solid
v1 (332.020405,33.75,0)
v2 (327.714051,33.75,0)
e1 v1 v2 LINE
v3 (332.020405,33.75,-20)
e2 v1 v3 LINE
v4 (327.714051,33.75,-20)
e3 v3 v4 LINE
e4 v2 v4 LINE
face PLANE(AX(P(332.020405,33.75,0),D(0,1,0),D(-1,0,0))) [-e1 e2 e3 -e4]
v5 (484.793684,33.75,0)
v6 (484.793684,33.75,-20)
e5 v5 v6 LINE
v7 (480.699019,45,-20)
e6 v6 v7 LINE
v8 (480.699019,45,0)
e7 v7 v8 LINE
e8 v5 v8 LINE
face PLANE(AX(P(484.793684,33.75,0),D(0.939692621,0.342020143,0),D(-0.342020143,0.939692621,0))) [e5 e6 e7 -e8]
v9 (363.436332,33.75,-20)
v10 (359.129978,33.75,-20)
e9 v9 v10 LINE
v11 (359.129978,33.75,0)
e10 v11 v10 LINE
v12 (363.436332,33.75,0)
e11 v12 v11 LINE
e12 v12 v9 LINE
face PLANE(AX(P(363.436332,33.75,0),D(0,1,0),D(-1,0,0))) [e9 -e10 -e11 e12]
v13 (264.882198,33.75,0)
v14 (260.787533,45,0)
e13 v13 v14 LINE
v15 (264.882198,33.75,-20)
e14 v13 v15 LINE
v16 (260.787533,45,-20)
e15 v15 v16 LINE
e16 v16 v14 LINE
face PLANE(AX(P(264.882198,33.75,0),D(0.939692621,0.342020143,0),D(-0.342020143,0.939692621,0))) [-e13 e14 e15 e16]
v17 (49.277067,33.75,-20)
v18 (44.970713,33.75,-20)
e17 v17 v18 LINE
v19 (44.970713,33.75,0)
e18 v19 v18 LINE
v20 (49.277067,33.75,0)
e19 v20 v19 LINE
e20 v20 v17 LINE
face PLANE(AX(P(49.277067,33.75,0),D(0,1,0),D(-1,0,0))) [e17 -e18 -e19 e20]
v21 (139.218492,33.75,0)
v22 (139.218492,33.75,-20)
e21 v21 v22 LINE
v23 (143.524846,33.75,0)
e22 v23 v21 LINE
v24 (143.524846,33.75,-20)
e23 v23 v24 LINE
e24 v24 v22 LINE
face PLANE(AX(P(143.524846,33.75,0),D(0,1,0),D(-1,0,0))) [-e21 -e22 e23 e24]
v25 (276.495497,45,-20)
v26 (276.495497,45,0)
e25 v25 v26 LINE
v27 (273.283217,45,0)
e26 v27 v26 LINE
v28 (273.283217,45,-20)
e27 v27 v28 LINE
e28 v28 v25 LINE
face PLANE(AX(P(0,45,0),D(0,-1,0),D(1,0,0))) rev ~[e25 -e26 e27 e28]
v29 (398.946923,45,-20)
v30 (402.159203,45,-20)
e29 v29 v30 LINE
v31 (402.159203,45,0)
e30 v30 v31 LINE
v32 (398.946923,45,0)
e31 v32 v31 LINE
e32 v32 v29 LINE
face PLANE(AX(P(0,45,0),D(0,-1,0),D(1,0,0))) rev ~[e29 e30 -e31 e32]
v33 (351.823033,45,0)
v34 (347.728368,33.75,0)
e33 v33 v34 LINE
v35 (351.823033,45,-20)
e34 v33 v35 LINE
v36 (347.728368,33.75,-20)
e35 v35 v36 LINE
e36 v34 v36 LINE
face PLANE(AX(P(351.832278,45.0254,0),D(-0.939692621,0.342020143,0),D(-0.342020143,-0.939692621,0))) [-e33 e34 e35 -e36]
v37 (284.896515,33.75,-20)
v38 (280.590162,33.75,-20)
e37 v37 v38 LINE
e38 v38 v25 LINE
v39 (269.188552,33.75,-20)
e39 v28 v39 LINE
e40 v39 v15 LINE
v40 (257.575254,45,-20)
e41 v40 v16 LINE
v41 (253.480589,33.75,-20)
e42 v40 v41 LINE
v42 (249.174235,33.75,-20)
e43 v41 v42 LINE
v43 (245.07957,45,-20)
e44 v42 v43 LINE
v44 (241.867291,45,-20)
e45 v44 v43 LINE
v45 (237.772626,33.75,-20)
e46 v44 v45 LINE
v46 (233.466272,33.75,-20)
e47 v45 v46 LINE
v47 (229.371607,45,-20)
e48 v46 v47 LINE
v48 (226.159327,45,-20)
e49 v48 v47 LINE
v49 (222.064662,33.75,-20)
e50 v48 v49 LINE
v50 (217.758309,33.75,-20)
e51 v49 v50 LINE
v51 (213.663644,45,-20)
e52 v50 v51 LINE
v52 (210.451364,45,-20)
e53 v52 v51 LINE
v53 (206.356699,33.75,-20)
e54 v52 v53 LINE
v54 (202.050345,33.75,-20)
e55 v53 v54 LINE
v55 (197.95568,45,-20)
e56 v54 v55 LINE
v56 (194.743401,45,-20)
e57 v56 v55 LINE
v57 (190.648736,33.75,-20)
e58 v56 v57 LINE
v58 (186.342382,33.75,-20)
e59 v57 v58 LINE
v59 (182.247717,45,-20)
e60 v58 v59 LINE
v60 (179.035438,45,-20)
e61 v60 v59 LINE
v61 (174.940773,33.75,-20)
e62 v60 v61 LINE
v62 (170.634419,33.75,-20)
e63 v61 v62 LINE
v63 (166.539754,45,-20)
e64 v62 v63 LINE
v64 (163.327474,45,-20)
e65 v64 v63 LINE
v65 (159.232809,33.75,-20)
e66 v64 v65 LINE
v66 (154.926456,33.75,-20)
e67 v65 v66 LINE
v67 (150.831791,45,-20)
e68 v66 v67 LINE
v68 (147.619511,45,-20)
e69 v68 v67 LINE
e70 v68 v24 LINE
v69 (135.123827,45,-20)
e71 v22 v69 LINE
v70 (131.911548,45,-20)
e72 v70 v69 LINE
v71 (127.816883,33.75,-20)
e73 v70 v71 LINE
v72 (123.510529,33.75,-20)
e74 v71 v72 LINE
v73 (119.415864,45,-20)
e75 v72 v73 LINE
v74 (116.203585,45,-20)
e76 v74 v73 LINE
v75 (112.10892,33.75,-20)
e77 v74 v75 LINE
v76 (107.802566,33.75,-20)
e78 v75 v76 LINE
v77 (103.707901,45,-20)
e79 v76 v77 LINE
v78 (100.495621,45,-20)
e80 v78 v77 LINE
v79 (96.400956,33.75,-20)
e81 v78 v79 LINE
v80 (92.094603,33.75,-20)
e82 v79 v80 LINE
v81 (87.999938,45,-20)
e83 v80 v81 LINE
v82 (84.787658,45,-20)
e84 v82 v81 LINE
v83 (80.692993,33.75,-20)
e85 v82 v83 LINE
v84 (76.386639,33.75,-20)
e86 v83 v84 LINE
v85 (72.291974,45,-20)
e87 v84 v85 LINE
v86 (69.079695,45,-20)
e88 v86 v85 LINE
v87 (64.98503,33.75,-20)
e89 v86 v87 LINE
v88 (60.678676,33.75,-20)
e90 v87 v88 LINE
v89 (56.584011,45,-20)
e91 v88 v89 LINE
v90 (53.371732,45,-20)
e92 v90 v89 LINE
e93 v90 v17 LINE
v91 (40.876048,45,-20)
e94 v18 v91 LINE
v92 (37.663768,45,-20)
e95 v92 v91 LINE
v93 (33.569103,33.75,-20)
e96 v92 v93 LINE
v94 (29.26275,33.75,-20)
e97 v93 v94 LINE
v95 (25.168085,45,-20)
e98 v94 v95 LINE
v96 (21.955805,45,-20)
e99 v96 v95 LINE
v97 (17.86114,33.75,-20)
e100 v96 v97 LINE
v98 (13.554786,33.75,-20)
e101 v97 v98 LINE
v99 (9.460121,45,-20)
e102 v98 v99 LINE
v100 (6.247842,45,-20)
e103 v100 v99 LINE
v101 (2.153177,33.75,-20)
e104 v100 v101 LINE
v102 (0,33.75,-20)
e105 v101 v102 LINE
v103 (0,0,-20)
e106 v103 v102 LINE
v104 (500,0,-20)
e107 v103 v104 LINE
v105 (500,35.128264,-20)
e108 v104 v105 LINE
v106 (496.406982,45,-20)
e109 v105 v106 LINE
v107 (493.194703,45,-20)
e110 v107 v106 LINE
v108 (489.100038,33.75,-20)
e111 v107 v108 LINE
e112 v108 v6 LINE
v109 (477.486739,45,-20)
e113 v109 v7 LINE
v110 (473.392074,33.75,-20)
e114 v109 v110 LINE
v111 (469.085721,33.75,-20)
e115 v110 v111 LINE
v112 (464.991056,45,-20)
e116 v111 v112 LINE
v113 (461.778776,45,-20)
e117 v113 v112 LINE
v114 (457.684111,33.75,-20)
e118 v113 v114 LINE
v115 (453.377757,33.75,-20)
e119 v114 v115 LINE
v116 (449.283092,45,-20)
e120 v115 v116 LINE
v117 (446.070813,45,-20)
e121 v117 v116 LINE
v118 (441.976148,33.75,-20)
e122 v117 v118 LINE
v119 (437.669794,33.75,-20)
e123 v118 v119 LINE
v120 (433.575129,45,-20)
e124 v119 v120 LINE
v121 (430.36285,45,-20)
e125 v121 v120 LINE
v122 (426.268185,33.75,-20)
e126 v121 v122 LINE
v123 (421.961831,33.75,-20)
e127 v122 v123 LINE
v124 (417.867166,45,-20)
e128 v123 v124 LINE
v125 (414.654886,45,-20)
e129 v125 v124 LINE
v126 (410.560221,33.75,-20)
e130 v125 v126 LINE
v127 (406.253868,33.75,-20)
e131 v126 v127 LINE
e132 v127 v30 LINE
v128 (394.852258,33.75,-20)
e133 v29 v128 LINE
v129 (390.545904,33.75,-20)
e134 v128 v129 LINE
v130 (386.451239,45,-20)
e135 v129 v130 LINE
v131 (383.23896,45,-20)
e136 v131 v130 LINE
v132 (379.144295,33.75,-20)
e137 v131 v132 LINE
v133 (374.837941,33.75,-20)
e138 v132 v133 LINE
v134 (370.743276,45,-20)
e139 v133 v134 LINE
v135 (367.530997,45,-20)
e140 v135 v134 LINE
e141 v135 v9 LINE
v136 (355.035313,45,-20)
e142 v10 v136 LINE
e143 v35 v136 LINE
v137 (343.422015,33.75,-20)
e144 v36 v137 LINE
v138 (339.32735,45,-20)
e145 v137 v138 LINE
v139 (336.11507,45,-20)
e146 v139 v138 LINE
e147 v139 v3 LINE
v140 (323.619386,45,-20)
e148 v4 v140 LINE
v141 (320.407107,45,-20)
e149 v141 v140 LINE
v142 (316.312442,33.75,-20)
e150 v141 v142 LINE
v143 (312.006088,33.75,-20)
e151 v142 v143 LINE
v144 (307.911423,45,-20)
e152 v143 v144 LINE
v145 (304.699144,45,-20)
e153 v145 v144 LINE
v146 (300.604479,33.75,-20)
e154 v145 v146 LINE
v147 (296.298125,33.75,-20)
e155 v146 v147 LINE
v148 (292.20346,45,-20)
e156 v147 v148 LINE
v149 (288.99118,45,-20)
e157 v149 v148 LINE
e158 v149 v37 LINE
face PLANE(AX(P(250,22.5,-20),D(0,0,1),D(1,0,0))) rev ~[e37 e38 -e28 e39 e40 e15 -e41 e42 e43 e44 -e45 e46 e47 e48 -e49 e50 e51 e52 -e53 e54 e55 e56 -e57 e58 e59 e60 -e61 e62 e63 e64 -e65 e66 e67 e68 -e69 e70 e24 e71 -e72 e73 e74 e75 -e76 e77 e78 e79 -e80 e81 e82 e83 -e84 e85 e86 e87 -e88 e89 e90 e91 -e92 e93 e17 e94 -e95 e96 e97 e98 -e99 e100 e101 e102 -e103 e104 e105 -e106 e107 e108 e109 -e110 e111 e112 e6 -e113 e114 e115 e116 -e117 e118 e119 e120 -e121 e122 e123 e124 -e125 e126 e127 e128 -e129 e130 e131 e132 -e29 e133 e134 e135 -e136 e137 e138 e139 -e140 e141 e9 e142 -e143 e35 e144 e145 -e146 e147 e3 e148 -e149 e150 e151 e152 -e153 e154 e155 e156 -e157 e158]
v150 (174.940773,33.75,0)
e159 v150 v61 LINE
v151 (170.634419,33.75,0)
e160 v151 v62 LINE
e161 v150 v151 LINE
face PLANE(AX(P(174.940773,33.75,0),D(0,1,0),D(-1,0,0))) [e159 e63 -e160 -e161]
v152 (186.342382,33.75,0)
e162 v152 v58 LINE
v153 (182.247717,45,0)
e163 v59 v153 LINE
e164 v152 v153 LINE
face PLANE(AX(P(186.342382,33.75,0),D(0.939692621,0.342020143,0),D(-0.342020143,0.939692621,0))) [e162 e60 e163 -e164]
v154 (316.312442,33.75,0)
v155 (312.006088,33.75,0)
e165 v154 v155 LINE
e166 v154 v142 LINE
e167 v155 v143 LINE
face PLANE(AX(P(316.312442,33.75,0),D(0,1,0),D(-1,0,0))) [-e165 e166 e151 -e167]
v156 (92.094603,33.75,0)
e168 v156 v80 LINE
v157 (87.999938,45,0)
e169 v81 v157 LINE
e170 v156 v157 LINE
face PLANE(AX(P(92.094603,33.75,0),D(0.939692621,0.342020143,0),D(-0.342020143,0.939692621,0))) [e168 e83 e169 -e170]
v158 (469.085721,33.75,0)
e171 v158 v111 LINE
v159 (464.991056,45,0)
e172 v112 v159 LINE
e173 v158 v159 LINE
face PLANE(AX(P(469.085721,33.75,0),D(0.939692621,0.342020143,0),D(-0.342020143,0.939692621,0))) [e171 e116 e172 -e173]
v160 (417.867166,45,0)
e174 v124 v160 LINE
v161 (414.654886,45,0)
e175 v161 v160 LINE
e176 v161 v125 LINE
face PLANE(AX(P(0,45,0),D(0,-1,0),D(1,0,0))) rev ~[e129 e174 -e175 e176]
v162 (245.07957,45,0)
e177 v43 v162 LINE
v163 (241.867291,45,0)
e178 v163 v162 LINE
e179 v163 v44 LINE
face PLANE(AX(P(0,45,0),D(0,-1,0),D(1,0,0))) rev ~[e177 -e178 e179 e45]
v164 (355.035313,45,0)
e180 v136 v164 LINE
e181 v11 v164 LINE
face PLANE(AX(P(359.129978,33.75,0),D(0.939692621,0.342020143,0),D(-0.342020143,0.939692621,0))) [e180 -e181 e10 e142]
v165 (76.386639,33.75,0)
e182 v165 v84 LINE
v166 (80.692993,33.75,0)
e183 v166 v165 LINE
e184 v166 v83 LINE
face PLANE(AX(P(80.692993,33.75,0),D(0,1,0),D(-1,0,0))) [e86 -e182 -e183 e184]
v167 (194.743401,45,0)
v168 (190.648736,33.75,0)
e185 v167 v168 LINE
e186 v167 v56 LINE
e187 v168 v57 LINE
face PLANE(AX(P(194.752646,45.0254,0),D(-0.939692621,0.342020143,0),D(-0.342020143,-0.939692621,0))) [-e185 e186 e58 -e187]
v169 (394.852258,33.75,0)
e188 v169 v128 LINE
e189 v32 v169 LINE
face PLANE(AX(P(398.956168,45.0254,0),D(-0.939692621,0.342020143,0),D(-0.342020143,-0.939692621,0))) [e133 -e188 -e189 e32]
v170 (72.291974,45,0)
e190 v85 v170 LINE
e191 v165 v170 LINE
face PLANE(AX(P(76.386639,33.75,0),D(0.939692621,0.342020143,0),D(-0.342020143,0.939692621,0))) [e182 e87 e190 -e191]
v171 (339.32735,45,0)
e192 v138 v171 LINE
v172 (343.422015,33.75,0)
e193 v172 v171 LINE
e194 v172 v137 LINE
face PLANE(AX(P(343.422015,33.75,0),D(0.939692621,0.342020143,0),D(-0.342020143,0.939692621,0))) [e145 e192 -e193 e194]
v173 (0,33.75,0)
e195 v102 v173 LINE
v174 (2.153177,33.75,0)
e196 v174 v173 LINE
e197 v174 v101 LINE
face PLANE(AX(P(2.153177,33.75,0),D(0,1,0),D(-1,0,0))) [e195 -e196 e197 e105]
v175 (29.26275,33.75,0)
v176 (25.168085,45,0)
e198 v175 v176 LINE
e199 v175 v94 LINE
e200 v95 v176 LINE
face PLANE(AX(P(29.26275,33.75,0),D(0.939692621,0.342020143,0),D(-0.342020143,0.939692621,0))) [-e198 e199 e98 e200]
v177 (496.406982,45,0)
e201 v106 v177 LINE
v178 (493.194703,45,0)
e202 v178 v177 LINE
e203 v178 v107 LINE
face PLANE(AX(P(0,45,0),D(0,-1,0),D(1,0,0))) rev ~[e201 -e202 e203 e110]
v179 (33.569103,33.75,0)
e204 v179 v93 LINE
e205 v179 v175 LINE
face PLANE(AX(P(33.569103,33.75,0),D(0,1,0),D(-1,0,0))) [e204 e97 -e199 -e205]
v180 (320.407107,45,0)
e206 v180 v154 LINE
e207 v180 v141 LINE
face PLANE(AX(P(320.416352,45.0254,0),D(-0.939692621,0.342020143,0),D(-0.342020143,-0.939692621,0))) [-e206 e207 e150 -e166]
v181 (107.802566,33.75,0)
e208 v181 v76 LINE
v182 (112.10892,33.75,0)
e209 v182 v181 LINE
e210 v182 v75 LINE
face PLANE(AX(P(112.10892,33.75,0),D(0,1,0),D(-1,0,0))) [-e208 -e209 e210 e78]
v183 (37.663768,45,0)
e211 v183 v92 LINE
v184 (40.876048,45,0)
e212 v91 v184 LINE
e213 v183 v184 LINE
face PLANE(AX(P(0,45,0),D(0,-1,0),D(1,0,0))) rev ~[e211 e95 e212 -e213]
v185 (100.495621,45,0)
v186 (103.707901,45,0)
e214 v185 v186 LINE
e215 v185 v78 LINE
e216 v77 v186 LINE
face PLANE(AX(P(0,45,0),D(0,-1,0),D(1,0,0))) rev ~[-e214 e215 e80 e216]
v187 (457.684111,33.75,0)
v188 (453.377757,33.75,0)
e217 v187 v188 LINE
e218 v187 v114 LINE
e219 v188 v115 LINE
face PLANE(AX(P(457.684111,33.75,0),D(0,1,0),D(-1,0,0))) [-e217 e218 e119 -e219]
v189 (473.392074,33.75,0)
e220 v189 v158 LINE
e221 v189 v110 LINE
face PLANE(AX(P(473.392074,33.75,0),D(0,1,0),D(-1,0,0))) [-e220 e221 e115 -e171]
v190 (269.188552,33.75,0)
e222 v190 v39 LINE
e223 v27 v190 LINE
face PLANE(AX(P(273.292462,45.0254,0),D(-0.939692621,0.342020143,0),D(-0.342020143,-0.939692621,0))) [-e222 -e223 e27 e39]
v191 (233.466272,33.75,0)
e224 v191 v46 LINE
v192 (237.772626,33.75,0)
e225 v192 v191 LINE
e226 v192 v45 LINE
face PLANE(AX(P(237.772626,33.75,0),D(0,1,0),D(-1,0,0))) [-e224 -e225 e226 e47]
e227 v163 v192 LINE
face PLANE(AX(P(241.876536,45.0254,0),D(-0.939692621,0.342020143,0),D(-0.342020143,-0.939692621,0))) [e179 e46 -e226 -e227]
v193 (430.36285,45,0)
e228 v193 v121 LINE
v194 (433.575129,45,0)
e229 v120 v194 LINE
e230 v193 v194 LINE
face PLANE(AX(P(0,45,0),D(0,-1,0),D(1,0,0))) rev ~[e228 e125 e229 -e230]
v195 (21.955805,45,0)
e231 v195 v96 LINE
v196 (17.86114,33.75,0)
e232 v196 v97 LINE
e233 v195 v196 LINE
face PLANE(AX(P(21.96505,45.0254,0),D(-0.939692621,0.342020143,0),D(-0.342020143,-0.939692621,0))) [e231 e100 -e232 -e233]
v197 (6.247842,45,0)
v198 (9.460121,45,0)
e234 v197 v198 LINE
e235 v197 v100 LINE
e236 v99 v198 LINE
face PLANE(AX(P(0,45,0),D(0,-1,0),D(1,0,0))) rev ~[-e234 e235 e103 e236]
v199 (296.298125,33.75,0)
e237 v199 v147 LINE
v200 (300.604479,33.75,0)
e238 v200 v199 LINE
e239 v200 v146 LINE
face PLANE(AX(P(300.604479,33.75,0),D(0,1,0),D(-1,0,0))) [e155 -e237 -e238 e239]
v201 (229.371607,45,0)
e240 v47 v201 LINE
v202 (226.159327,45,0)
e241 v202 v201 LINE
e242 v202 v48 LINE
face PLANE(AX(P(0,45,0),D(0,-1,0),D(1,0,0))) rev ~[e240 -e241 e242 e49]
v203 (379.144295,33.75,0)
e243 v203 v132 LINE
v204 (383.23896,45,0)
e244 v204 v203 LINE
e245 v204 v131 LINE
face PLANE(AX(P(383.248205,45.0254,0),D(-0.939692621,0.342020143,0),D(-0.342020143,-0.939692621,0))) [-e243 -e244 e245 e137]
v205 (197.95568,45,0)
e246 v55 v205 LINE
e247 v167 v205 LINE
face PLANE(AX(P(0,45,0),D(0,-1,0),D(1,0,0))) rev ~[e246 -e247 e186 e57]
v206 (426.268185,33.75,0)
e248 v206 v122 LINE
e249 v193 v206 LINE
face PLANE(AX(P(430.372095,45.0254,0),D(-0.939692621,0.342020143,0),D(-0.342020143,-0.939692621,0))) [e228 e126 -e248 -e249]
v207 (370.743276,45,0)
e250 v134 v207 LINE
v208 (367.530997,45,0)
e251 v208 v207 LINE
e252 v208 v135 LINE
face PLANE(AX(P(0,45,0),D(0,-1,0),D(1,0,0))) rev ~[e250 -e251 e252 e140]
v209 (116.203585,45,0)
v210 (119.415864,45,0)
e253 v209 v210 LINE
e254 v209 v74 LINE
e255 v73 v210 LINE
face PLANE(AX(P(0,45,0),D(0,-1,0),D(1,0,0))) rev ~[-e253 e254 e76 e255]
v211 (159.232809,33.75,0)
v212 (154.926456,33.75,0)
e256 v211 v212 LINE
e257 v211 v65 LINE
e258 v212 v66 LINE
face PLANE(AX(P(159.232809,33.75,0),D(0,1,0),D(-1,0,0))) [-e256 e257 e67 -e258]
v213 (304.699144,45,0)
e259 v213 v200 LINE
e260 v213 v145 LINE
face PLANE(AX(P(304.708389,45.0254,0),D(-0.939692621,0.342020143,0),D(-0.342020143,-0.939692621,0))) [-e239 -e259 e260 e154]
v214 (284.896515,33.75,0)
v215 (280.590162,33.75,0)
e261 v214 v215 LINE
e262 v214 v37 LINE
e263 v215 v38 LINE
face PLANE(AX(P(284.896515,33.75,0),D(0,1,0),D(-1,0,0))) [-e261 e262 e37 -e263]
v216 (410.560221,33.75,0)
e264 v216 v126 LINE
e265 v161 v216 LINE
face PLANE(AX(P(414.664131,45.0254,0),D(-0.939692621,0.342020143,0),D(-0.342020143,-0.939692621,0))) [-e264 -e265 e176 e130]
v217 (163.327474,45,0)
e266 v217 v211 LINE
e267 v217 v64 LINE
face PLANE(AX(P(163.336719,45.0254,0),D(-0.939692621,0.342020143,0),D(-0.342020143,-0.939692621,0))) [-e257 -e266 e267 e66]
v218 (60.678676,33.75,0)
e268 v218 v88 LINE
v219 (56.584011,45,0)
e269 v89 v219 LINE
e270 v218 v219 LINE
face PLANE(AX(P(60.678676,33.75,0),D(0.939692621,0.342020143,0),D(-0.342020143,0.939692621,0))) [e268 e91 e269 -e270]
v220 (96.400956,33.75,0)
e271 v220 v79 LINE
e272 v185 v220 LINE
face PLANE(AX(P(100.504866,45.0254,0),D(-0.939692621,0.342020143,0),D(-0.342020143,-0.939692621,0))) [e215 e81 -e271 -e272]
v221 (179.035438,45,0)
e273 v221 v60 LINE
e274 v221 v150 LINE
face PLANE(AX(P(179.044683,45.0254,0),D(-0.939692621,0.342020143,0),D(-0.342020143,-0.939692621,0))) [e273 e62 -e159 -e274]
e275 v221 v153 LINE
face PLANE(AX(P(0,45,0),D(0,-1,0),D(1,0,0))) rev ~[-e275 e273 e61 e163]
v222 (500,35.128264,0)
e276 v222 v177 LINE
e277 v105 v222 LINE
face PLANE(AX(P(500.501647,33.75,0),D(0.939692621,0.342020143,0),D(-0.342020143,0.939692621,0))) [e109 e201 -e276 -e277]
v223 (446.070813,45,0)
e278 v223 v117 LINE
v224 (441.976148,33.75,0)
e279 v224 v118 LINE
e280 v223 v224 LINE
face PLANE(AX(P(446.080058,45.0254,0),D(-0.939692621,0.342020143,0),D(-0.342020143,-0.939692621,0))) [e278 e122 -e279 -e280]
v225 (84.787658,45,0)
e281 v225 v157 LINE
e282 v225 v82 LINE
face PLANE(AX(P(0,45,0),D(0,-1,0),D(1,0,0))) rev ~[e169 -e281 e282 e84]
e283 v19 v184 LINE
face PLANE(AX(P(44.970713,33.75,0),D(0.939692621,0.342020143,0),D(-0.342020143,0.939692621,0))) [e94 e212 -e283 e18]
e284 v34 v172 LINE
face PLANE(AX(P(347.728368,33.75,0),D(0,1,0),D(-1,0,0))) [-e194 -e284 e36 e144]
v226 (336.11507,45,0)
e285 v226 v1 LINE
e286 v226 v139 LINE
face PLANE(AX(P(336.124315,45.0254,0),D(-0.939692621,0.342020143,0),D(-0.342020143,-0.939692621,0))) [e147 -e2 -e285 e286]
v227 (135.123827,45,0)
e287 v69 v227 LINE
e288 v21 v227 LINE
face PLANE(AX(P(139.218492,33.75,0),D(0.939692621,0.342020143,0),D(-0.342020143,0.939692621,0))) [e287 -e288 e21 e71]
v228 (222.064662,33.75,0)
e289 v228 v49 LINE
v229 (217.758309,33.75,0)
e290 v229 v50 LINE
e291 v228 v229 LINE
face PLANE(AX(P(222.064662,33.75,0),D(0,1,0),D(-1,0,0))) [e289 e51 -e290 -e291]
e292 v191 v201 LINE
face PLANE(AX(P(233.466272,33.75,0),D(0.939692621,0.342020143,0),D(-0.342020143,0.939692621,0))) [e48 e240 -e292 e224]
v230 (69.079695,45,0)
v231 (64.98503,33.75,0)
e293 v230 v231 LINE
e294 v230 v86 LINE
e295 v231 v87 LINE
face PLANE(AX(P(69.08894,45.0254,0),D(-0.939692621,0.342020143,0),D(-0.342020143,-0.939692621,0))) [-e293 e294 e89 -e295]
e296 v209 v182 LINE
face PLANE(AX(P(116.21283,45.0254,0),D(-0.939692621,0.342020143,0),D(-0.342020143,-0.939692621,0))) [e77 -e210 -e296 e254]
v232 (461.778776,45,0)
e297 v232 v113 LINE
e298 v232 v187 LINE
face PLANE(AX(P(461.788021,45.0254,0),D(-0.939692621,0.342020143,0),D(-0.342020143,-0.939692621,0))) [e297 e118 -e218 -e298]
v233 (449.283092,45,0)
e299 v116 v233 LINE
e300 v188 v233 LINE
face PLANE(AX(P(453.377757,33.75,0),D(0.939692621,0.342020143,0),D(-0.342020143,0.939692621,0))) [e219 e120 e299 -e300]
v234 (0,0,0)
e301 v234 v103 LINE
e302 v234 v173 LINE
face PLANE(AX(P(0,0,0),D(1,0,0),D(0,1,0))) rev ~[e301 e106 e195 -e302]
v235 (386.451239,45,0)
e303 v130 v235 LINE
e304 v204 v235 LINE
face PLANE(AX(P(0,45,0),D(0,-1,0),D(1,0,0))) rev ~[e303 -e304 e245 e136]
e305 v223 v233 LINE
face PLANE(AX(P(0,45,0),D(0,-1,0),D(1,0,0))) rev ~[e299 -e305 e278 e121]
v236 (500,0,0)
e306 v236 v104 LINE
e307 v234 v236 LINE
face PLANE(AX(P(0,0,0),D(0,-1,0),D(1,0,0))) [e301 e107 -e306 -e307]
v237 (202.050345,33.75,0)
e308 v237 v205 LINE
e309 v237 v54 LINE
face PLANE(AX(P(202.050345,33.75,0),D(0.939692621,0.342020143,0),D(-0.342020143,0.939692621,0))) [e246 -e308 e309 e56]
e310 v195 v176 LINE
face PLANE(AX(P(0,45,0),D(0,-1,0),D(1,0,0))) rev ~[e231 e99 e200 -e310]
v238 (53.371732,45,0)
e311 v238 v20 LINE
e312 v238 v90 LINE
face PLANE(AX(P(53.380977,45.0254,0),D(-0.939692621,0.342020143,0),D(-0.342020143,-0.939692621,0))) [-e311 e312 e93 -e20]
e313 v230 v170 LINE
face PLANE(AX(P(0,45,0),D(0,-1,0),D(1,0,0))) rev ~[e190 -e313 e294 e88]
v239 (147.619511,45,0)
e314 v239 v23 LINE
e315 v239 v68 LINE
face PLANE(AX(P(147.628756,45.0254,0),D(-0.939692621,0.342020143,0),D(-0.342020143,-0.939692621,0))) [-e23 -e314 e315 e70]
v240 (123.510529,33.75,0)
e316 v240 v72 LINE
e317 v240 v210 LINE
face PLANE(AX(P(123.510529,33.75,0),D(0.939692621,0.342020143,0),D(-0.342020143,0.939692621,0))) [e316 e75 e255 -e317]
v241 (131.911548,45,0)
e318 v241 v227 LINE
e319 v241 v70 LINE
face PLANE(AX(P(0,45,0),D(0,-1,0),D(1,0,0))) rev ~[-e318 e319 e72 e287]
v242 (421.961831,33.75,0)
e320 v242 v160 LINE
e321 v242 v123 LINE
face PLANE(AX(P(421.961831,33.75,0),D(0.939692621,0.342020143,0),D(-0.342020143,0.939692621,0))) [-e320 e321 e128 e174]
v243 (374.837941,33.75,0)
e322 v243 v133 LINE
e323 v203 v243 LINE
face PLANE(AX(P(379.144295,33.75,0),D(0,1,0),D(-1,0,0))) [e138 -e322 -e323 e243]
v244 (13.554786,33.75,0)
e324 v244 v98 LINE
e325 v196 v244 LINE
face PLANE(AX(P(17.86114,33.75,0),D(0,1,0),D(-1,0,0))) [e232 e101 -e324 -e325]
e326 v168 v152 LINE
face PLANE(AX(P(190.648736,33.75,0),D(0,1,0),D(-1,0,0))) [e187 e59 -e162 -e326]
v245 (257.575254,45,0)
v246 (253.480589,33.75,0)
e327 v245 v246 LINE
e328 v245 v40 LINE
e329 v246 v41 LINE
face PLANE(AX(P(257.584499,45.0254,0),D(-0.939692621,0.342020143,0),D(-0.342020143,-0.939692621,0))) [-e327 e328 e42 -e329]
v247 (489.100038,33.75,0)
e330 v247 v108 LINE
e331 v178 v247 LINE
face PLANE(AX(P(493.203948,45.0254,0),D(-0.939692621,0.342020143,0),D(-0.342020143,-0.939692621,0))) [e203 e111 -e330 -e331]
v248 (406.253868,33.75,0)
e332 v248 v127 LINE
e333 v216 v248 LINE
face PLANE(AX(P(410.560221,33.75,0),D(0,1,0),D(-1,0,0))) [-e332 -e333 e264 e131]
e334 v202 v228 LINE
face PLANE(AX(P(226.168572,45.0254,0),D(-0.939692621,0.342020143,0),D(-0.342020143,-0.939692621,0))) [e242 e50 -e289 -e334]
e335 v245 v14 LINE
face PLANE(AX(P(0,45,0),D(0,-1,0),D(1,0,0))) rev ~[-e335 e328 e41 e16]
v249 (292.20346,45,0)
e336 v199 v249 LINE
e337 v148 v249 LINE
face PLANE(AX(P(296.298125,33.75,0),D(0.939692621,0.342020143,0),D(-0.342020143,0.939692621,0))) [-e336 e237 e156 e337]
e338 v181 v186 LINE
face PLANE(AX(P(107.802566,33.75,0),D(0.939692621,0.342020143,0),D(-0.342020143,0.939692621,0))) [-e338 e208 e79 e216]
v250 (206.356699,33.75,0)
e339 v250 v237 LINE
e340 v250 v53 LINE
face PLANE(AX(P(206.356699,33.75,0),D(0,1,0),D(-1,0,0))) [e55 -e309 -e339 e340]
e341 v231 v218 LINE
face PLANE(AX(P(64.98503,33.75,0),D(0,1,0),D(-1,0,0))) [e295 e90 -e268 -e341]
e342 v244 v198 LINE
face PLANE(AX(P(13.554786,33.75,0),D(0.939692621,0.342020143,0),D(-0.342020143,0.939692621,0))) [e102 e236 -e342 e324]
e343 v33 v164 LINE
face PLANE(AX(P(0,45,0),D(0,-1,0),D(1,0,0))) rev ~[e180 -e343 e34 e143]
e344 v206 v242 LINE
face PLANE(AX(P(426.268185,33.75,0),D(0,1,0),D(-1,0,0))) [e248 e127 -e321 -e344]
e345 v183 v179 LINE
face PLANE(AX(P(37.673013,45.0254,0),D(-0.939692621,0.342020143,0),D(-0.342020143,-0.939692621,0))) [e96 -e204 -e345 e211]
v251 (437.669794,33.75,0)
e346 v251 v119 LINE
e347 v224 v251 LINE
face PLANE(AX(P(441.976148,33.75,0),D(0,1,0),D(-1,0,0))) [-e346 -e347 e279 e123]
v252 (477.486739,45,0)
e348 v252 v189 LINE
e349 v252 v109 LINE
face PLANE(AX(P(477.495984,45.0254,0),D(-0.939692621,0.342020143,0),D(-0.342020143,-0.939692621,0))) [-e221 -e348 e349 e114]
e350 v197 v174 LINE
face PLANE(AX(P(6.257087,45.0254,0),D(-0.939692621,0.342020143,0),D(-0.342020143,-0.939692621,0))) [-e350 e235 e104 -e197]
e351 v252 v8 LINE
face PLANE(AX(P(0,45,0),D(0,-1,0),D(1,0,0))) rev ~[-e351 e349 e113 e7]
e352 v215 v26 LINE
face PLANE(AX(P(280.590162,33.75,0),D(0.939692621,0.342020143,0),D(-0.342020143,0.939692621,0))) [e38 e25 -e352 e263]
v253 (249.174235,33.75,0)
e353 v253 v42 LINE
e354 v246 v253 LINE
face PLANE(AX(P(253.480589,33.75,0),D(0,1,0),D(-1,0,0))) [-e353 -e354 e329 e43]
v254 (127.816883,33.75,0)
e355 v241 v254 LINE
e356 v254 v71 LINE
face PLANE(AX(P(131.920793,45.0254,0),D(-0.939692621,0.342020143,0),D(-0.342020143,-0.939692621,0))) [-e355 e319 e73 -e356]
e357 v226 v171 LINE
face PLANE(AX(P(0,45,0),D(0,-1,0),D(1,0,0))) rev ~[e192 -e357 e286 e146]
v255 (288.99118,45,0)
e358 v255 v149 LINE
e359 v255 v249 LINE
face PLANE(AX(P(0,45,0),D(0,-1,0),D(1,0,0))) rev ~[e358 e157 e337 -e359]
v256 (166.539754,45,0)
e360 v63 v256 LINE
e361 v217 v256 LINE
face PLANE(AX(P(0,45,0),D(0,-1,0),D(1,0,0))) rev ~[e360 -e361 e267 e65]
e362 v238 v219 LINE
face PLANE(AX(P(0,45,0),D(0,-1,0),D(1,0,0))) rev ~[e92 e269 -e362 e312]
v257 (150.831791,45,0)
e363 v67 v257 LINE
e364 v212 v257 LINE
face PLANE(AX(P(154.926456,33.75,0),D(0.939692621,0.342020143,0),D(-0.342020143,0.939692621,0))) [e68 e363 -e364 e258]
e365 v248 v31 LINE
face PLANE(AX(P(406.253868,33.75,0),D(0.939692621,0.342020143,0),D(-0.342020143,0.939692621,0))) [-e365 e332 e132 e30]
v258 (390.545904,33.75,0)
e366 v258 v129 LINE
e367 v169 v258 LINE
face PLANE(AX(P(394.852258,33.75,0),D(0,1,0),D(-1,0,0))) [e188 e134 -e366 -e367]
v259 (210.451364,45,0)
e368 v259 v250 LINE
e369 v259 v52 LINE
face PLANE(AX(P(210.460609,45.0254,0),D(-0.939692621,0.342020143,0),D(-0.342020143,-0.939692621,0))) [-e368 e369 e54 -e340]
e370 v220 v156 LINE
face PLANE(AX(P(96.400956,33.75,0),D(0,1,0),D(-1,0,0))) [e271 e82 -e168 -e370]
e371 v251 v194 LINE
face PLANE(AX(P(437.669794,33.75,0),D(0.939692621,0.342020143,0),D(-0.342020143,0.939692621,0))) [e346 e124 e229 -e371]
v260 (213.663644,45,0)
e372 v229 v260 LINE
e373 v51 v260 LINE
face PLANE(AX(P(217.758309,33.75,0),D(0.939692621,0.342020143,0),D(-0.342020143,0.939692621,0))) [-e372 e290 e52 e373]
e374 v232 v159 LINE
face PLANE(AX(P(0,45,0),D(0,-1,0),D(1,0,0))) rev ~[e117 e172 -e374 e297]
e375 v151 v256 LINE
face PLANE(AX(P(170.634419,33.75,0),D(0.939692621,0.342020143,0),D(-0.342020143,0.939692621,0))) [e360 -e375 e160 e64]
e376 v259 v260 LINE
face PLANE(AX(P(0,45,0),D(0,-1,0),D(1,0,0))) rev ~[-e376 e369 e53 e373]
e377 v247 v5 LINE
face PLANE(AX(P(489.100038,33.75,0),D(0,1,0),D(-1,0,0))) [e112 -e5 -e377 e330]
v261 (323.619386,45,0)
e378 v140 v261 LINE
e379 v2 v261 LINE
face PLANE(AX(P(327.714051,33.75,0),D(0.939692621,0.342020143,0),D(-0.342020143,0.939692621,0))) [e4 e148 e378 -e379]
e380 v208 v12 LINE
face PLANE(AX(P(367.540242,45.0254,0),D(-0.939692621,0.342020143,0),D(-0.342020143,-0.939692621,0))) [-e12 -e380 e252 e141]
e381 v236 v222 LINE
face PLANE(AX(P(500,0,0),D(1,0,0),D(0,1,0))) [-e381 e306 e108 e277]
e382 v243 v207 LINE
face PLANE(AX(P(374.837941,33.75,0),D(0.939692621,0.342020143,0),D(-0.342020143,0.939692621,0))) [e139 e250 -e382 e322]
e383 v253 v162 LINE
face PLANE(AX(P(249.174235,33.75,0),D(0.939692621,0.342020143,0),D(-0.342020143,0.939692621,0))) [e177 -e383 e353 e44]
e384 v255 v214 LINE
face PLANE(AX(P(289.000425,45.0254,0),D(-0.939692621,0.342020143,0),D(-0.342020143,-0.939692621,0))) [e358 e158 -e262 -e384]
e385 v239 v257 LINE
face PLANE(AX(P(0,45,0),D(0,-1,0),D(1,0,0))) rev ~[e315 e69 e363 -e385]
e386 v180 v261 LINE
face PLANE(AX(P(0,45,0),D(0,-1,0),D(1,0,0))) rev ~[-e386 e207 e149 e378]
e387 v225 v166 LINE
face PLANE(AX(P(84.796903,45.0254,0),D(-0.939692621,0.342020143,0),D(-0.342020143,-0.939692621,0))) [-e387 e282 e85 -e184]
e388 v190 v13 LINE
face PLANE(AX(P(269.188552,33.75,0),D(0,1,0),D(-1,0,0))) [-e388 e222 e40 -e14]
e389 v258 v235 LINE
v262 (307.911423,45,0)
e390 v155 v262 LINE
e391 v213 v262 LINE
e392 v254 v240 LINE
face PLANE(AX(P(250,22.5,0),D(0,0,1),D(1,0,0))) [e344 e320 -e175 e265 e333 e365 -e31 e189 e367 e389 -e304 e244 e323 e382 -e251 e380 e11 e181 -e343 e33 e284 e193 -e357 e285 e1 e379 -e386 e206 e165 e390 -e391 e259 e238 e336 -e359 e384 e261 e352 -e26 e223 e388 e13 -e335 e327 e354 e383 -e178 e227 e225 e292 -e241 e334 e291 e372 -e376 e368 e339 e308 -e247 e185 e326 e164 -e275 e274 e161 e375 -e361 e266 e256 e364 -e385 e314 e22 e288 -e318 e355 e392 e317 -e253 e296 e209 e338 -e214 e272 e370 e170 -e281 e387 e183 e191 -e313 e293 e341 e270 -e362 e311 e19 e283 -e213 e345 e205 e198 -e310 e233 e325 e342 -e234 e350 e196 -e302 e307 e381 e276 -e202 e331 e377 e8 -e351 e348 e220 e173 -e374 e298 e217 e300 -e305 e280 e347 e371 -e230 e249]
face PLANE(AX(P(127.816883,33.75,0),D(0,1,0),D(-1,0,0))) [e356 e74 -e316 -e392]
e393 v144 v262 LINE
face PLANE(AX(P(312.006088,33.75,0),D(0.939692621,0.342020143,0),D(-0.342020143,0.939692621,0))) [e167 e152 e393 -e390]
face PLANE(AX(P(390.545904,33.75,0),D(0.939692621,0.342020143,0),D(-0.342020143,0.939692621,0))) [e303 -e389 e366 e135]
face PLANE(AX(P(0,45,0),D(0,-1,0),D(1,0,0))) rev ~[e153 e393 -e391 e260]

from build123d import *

# Parameters (mm, degrees)
BLANKSKE_W        = 500
BLANKSKE_H        = 45
BLANK_DEPTH       = 20
TOOTHCUTSIM_DEPTH = 503.419147724
TEETHCUTS_COUNT   = 33
TEETHCUTS_PITCH   = 15.70796325


with BuildPart() as part:
    # BlankSke → Blank (new body)
    with BuildSketch(Plane.XY):
        with Locations((250, 22.5)):
            Rectangle(BLANKSKE_W, BLANKSKE_H)
    extrude(amount=-BLANK_DEPTH)

    # TooCutSkeSim → ToothCutSim (cut, through all)
    with BuildSketch(Plane.XY):
        Polygon((2.153176848, 33.75), (-2.153176848, 33.75), (-6.257086828, 45.0254), (6.257086828, 45.0254), align=None)
    toothcutsim = extrude(amount=-TOOTHCUTSIM_DEPTH, mode=Mode.SUBTRACT)

    # TeethCuts: ToothCutSim ×33
    with Locations(*[(i * TEETHCUTS_PITCH, 0, 0) for i in range(1, TEETHCUTS_COUNT)]):
        add(toothcutsim, mode=Mode.SUBTRACT)


solid = part.part
